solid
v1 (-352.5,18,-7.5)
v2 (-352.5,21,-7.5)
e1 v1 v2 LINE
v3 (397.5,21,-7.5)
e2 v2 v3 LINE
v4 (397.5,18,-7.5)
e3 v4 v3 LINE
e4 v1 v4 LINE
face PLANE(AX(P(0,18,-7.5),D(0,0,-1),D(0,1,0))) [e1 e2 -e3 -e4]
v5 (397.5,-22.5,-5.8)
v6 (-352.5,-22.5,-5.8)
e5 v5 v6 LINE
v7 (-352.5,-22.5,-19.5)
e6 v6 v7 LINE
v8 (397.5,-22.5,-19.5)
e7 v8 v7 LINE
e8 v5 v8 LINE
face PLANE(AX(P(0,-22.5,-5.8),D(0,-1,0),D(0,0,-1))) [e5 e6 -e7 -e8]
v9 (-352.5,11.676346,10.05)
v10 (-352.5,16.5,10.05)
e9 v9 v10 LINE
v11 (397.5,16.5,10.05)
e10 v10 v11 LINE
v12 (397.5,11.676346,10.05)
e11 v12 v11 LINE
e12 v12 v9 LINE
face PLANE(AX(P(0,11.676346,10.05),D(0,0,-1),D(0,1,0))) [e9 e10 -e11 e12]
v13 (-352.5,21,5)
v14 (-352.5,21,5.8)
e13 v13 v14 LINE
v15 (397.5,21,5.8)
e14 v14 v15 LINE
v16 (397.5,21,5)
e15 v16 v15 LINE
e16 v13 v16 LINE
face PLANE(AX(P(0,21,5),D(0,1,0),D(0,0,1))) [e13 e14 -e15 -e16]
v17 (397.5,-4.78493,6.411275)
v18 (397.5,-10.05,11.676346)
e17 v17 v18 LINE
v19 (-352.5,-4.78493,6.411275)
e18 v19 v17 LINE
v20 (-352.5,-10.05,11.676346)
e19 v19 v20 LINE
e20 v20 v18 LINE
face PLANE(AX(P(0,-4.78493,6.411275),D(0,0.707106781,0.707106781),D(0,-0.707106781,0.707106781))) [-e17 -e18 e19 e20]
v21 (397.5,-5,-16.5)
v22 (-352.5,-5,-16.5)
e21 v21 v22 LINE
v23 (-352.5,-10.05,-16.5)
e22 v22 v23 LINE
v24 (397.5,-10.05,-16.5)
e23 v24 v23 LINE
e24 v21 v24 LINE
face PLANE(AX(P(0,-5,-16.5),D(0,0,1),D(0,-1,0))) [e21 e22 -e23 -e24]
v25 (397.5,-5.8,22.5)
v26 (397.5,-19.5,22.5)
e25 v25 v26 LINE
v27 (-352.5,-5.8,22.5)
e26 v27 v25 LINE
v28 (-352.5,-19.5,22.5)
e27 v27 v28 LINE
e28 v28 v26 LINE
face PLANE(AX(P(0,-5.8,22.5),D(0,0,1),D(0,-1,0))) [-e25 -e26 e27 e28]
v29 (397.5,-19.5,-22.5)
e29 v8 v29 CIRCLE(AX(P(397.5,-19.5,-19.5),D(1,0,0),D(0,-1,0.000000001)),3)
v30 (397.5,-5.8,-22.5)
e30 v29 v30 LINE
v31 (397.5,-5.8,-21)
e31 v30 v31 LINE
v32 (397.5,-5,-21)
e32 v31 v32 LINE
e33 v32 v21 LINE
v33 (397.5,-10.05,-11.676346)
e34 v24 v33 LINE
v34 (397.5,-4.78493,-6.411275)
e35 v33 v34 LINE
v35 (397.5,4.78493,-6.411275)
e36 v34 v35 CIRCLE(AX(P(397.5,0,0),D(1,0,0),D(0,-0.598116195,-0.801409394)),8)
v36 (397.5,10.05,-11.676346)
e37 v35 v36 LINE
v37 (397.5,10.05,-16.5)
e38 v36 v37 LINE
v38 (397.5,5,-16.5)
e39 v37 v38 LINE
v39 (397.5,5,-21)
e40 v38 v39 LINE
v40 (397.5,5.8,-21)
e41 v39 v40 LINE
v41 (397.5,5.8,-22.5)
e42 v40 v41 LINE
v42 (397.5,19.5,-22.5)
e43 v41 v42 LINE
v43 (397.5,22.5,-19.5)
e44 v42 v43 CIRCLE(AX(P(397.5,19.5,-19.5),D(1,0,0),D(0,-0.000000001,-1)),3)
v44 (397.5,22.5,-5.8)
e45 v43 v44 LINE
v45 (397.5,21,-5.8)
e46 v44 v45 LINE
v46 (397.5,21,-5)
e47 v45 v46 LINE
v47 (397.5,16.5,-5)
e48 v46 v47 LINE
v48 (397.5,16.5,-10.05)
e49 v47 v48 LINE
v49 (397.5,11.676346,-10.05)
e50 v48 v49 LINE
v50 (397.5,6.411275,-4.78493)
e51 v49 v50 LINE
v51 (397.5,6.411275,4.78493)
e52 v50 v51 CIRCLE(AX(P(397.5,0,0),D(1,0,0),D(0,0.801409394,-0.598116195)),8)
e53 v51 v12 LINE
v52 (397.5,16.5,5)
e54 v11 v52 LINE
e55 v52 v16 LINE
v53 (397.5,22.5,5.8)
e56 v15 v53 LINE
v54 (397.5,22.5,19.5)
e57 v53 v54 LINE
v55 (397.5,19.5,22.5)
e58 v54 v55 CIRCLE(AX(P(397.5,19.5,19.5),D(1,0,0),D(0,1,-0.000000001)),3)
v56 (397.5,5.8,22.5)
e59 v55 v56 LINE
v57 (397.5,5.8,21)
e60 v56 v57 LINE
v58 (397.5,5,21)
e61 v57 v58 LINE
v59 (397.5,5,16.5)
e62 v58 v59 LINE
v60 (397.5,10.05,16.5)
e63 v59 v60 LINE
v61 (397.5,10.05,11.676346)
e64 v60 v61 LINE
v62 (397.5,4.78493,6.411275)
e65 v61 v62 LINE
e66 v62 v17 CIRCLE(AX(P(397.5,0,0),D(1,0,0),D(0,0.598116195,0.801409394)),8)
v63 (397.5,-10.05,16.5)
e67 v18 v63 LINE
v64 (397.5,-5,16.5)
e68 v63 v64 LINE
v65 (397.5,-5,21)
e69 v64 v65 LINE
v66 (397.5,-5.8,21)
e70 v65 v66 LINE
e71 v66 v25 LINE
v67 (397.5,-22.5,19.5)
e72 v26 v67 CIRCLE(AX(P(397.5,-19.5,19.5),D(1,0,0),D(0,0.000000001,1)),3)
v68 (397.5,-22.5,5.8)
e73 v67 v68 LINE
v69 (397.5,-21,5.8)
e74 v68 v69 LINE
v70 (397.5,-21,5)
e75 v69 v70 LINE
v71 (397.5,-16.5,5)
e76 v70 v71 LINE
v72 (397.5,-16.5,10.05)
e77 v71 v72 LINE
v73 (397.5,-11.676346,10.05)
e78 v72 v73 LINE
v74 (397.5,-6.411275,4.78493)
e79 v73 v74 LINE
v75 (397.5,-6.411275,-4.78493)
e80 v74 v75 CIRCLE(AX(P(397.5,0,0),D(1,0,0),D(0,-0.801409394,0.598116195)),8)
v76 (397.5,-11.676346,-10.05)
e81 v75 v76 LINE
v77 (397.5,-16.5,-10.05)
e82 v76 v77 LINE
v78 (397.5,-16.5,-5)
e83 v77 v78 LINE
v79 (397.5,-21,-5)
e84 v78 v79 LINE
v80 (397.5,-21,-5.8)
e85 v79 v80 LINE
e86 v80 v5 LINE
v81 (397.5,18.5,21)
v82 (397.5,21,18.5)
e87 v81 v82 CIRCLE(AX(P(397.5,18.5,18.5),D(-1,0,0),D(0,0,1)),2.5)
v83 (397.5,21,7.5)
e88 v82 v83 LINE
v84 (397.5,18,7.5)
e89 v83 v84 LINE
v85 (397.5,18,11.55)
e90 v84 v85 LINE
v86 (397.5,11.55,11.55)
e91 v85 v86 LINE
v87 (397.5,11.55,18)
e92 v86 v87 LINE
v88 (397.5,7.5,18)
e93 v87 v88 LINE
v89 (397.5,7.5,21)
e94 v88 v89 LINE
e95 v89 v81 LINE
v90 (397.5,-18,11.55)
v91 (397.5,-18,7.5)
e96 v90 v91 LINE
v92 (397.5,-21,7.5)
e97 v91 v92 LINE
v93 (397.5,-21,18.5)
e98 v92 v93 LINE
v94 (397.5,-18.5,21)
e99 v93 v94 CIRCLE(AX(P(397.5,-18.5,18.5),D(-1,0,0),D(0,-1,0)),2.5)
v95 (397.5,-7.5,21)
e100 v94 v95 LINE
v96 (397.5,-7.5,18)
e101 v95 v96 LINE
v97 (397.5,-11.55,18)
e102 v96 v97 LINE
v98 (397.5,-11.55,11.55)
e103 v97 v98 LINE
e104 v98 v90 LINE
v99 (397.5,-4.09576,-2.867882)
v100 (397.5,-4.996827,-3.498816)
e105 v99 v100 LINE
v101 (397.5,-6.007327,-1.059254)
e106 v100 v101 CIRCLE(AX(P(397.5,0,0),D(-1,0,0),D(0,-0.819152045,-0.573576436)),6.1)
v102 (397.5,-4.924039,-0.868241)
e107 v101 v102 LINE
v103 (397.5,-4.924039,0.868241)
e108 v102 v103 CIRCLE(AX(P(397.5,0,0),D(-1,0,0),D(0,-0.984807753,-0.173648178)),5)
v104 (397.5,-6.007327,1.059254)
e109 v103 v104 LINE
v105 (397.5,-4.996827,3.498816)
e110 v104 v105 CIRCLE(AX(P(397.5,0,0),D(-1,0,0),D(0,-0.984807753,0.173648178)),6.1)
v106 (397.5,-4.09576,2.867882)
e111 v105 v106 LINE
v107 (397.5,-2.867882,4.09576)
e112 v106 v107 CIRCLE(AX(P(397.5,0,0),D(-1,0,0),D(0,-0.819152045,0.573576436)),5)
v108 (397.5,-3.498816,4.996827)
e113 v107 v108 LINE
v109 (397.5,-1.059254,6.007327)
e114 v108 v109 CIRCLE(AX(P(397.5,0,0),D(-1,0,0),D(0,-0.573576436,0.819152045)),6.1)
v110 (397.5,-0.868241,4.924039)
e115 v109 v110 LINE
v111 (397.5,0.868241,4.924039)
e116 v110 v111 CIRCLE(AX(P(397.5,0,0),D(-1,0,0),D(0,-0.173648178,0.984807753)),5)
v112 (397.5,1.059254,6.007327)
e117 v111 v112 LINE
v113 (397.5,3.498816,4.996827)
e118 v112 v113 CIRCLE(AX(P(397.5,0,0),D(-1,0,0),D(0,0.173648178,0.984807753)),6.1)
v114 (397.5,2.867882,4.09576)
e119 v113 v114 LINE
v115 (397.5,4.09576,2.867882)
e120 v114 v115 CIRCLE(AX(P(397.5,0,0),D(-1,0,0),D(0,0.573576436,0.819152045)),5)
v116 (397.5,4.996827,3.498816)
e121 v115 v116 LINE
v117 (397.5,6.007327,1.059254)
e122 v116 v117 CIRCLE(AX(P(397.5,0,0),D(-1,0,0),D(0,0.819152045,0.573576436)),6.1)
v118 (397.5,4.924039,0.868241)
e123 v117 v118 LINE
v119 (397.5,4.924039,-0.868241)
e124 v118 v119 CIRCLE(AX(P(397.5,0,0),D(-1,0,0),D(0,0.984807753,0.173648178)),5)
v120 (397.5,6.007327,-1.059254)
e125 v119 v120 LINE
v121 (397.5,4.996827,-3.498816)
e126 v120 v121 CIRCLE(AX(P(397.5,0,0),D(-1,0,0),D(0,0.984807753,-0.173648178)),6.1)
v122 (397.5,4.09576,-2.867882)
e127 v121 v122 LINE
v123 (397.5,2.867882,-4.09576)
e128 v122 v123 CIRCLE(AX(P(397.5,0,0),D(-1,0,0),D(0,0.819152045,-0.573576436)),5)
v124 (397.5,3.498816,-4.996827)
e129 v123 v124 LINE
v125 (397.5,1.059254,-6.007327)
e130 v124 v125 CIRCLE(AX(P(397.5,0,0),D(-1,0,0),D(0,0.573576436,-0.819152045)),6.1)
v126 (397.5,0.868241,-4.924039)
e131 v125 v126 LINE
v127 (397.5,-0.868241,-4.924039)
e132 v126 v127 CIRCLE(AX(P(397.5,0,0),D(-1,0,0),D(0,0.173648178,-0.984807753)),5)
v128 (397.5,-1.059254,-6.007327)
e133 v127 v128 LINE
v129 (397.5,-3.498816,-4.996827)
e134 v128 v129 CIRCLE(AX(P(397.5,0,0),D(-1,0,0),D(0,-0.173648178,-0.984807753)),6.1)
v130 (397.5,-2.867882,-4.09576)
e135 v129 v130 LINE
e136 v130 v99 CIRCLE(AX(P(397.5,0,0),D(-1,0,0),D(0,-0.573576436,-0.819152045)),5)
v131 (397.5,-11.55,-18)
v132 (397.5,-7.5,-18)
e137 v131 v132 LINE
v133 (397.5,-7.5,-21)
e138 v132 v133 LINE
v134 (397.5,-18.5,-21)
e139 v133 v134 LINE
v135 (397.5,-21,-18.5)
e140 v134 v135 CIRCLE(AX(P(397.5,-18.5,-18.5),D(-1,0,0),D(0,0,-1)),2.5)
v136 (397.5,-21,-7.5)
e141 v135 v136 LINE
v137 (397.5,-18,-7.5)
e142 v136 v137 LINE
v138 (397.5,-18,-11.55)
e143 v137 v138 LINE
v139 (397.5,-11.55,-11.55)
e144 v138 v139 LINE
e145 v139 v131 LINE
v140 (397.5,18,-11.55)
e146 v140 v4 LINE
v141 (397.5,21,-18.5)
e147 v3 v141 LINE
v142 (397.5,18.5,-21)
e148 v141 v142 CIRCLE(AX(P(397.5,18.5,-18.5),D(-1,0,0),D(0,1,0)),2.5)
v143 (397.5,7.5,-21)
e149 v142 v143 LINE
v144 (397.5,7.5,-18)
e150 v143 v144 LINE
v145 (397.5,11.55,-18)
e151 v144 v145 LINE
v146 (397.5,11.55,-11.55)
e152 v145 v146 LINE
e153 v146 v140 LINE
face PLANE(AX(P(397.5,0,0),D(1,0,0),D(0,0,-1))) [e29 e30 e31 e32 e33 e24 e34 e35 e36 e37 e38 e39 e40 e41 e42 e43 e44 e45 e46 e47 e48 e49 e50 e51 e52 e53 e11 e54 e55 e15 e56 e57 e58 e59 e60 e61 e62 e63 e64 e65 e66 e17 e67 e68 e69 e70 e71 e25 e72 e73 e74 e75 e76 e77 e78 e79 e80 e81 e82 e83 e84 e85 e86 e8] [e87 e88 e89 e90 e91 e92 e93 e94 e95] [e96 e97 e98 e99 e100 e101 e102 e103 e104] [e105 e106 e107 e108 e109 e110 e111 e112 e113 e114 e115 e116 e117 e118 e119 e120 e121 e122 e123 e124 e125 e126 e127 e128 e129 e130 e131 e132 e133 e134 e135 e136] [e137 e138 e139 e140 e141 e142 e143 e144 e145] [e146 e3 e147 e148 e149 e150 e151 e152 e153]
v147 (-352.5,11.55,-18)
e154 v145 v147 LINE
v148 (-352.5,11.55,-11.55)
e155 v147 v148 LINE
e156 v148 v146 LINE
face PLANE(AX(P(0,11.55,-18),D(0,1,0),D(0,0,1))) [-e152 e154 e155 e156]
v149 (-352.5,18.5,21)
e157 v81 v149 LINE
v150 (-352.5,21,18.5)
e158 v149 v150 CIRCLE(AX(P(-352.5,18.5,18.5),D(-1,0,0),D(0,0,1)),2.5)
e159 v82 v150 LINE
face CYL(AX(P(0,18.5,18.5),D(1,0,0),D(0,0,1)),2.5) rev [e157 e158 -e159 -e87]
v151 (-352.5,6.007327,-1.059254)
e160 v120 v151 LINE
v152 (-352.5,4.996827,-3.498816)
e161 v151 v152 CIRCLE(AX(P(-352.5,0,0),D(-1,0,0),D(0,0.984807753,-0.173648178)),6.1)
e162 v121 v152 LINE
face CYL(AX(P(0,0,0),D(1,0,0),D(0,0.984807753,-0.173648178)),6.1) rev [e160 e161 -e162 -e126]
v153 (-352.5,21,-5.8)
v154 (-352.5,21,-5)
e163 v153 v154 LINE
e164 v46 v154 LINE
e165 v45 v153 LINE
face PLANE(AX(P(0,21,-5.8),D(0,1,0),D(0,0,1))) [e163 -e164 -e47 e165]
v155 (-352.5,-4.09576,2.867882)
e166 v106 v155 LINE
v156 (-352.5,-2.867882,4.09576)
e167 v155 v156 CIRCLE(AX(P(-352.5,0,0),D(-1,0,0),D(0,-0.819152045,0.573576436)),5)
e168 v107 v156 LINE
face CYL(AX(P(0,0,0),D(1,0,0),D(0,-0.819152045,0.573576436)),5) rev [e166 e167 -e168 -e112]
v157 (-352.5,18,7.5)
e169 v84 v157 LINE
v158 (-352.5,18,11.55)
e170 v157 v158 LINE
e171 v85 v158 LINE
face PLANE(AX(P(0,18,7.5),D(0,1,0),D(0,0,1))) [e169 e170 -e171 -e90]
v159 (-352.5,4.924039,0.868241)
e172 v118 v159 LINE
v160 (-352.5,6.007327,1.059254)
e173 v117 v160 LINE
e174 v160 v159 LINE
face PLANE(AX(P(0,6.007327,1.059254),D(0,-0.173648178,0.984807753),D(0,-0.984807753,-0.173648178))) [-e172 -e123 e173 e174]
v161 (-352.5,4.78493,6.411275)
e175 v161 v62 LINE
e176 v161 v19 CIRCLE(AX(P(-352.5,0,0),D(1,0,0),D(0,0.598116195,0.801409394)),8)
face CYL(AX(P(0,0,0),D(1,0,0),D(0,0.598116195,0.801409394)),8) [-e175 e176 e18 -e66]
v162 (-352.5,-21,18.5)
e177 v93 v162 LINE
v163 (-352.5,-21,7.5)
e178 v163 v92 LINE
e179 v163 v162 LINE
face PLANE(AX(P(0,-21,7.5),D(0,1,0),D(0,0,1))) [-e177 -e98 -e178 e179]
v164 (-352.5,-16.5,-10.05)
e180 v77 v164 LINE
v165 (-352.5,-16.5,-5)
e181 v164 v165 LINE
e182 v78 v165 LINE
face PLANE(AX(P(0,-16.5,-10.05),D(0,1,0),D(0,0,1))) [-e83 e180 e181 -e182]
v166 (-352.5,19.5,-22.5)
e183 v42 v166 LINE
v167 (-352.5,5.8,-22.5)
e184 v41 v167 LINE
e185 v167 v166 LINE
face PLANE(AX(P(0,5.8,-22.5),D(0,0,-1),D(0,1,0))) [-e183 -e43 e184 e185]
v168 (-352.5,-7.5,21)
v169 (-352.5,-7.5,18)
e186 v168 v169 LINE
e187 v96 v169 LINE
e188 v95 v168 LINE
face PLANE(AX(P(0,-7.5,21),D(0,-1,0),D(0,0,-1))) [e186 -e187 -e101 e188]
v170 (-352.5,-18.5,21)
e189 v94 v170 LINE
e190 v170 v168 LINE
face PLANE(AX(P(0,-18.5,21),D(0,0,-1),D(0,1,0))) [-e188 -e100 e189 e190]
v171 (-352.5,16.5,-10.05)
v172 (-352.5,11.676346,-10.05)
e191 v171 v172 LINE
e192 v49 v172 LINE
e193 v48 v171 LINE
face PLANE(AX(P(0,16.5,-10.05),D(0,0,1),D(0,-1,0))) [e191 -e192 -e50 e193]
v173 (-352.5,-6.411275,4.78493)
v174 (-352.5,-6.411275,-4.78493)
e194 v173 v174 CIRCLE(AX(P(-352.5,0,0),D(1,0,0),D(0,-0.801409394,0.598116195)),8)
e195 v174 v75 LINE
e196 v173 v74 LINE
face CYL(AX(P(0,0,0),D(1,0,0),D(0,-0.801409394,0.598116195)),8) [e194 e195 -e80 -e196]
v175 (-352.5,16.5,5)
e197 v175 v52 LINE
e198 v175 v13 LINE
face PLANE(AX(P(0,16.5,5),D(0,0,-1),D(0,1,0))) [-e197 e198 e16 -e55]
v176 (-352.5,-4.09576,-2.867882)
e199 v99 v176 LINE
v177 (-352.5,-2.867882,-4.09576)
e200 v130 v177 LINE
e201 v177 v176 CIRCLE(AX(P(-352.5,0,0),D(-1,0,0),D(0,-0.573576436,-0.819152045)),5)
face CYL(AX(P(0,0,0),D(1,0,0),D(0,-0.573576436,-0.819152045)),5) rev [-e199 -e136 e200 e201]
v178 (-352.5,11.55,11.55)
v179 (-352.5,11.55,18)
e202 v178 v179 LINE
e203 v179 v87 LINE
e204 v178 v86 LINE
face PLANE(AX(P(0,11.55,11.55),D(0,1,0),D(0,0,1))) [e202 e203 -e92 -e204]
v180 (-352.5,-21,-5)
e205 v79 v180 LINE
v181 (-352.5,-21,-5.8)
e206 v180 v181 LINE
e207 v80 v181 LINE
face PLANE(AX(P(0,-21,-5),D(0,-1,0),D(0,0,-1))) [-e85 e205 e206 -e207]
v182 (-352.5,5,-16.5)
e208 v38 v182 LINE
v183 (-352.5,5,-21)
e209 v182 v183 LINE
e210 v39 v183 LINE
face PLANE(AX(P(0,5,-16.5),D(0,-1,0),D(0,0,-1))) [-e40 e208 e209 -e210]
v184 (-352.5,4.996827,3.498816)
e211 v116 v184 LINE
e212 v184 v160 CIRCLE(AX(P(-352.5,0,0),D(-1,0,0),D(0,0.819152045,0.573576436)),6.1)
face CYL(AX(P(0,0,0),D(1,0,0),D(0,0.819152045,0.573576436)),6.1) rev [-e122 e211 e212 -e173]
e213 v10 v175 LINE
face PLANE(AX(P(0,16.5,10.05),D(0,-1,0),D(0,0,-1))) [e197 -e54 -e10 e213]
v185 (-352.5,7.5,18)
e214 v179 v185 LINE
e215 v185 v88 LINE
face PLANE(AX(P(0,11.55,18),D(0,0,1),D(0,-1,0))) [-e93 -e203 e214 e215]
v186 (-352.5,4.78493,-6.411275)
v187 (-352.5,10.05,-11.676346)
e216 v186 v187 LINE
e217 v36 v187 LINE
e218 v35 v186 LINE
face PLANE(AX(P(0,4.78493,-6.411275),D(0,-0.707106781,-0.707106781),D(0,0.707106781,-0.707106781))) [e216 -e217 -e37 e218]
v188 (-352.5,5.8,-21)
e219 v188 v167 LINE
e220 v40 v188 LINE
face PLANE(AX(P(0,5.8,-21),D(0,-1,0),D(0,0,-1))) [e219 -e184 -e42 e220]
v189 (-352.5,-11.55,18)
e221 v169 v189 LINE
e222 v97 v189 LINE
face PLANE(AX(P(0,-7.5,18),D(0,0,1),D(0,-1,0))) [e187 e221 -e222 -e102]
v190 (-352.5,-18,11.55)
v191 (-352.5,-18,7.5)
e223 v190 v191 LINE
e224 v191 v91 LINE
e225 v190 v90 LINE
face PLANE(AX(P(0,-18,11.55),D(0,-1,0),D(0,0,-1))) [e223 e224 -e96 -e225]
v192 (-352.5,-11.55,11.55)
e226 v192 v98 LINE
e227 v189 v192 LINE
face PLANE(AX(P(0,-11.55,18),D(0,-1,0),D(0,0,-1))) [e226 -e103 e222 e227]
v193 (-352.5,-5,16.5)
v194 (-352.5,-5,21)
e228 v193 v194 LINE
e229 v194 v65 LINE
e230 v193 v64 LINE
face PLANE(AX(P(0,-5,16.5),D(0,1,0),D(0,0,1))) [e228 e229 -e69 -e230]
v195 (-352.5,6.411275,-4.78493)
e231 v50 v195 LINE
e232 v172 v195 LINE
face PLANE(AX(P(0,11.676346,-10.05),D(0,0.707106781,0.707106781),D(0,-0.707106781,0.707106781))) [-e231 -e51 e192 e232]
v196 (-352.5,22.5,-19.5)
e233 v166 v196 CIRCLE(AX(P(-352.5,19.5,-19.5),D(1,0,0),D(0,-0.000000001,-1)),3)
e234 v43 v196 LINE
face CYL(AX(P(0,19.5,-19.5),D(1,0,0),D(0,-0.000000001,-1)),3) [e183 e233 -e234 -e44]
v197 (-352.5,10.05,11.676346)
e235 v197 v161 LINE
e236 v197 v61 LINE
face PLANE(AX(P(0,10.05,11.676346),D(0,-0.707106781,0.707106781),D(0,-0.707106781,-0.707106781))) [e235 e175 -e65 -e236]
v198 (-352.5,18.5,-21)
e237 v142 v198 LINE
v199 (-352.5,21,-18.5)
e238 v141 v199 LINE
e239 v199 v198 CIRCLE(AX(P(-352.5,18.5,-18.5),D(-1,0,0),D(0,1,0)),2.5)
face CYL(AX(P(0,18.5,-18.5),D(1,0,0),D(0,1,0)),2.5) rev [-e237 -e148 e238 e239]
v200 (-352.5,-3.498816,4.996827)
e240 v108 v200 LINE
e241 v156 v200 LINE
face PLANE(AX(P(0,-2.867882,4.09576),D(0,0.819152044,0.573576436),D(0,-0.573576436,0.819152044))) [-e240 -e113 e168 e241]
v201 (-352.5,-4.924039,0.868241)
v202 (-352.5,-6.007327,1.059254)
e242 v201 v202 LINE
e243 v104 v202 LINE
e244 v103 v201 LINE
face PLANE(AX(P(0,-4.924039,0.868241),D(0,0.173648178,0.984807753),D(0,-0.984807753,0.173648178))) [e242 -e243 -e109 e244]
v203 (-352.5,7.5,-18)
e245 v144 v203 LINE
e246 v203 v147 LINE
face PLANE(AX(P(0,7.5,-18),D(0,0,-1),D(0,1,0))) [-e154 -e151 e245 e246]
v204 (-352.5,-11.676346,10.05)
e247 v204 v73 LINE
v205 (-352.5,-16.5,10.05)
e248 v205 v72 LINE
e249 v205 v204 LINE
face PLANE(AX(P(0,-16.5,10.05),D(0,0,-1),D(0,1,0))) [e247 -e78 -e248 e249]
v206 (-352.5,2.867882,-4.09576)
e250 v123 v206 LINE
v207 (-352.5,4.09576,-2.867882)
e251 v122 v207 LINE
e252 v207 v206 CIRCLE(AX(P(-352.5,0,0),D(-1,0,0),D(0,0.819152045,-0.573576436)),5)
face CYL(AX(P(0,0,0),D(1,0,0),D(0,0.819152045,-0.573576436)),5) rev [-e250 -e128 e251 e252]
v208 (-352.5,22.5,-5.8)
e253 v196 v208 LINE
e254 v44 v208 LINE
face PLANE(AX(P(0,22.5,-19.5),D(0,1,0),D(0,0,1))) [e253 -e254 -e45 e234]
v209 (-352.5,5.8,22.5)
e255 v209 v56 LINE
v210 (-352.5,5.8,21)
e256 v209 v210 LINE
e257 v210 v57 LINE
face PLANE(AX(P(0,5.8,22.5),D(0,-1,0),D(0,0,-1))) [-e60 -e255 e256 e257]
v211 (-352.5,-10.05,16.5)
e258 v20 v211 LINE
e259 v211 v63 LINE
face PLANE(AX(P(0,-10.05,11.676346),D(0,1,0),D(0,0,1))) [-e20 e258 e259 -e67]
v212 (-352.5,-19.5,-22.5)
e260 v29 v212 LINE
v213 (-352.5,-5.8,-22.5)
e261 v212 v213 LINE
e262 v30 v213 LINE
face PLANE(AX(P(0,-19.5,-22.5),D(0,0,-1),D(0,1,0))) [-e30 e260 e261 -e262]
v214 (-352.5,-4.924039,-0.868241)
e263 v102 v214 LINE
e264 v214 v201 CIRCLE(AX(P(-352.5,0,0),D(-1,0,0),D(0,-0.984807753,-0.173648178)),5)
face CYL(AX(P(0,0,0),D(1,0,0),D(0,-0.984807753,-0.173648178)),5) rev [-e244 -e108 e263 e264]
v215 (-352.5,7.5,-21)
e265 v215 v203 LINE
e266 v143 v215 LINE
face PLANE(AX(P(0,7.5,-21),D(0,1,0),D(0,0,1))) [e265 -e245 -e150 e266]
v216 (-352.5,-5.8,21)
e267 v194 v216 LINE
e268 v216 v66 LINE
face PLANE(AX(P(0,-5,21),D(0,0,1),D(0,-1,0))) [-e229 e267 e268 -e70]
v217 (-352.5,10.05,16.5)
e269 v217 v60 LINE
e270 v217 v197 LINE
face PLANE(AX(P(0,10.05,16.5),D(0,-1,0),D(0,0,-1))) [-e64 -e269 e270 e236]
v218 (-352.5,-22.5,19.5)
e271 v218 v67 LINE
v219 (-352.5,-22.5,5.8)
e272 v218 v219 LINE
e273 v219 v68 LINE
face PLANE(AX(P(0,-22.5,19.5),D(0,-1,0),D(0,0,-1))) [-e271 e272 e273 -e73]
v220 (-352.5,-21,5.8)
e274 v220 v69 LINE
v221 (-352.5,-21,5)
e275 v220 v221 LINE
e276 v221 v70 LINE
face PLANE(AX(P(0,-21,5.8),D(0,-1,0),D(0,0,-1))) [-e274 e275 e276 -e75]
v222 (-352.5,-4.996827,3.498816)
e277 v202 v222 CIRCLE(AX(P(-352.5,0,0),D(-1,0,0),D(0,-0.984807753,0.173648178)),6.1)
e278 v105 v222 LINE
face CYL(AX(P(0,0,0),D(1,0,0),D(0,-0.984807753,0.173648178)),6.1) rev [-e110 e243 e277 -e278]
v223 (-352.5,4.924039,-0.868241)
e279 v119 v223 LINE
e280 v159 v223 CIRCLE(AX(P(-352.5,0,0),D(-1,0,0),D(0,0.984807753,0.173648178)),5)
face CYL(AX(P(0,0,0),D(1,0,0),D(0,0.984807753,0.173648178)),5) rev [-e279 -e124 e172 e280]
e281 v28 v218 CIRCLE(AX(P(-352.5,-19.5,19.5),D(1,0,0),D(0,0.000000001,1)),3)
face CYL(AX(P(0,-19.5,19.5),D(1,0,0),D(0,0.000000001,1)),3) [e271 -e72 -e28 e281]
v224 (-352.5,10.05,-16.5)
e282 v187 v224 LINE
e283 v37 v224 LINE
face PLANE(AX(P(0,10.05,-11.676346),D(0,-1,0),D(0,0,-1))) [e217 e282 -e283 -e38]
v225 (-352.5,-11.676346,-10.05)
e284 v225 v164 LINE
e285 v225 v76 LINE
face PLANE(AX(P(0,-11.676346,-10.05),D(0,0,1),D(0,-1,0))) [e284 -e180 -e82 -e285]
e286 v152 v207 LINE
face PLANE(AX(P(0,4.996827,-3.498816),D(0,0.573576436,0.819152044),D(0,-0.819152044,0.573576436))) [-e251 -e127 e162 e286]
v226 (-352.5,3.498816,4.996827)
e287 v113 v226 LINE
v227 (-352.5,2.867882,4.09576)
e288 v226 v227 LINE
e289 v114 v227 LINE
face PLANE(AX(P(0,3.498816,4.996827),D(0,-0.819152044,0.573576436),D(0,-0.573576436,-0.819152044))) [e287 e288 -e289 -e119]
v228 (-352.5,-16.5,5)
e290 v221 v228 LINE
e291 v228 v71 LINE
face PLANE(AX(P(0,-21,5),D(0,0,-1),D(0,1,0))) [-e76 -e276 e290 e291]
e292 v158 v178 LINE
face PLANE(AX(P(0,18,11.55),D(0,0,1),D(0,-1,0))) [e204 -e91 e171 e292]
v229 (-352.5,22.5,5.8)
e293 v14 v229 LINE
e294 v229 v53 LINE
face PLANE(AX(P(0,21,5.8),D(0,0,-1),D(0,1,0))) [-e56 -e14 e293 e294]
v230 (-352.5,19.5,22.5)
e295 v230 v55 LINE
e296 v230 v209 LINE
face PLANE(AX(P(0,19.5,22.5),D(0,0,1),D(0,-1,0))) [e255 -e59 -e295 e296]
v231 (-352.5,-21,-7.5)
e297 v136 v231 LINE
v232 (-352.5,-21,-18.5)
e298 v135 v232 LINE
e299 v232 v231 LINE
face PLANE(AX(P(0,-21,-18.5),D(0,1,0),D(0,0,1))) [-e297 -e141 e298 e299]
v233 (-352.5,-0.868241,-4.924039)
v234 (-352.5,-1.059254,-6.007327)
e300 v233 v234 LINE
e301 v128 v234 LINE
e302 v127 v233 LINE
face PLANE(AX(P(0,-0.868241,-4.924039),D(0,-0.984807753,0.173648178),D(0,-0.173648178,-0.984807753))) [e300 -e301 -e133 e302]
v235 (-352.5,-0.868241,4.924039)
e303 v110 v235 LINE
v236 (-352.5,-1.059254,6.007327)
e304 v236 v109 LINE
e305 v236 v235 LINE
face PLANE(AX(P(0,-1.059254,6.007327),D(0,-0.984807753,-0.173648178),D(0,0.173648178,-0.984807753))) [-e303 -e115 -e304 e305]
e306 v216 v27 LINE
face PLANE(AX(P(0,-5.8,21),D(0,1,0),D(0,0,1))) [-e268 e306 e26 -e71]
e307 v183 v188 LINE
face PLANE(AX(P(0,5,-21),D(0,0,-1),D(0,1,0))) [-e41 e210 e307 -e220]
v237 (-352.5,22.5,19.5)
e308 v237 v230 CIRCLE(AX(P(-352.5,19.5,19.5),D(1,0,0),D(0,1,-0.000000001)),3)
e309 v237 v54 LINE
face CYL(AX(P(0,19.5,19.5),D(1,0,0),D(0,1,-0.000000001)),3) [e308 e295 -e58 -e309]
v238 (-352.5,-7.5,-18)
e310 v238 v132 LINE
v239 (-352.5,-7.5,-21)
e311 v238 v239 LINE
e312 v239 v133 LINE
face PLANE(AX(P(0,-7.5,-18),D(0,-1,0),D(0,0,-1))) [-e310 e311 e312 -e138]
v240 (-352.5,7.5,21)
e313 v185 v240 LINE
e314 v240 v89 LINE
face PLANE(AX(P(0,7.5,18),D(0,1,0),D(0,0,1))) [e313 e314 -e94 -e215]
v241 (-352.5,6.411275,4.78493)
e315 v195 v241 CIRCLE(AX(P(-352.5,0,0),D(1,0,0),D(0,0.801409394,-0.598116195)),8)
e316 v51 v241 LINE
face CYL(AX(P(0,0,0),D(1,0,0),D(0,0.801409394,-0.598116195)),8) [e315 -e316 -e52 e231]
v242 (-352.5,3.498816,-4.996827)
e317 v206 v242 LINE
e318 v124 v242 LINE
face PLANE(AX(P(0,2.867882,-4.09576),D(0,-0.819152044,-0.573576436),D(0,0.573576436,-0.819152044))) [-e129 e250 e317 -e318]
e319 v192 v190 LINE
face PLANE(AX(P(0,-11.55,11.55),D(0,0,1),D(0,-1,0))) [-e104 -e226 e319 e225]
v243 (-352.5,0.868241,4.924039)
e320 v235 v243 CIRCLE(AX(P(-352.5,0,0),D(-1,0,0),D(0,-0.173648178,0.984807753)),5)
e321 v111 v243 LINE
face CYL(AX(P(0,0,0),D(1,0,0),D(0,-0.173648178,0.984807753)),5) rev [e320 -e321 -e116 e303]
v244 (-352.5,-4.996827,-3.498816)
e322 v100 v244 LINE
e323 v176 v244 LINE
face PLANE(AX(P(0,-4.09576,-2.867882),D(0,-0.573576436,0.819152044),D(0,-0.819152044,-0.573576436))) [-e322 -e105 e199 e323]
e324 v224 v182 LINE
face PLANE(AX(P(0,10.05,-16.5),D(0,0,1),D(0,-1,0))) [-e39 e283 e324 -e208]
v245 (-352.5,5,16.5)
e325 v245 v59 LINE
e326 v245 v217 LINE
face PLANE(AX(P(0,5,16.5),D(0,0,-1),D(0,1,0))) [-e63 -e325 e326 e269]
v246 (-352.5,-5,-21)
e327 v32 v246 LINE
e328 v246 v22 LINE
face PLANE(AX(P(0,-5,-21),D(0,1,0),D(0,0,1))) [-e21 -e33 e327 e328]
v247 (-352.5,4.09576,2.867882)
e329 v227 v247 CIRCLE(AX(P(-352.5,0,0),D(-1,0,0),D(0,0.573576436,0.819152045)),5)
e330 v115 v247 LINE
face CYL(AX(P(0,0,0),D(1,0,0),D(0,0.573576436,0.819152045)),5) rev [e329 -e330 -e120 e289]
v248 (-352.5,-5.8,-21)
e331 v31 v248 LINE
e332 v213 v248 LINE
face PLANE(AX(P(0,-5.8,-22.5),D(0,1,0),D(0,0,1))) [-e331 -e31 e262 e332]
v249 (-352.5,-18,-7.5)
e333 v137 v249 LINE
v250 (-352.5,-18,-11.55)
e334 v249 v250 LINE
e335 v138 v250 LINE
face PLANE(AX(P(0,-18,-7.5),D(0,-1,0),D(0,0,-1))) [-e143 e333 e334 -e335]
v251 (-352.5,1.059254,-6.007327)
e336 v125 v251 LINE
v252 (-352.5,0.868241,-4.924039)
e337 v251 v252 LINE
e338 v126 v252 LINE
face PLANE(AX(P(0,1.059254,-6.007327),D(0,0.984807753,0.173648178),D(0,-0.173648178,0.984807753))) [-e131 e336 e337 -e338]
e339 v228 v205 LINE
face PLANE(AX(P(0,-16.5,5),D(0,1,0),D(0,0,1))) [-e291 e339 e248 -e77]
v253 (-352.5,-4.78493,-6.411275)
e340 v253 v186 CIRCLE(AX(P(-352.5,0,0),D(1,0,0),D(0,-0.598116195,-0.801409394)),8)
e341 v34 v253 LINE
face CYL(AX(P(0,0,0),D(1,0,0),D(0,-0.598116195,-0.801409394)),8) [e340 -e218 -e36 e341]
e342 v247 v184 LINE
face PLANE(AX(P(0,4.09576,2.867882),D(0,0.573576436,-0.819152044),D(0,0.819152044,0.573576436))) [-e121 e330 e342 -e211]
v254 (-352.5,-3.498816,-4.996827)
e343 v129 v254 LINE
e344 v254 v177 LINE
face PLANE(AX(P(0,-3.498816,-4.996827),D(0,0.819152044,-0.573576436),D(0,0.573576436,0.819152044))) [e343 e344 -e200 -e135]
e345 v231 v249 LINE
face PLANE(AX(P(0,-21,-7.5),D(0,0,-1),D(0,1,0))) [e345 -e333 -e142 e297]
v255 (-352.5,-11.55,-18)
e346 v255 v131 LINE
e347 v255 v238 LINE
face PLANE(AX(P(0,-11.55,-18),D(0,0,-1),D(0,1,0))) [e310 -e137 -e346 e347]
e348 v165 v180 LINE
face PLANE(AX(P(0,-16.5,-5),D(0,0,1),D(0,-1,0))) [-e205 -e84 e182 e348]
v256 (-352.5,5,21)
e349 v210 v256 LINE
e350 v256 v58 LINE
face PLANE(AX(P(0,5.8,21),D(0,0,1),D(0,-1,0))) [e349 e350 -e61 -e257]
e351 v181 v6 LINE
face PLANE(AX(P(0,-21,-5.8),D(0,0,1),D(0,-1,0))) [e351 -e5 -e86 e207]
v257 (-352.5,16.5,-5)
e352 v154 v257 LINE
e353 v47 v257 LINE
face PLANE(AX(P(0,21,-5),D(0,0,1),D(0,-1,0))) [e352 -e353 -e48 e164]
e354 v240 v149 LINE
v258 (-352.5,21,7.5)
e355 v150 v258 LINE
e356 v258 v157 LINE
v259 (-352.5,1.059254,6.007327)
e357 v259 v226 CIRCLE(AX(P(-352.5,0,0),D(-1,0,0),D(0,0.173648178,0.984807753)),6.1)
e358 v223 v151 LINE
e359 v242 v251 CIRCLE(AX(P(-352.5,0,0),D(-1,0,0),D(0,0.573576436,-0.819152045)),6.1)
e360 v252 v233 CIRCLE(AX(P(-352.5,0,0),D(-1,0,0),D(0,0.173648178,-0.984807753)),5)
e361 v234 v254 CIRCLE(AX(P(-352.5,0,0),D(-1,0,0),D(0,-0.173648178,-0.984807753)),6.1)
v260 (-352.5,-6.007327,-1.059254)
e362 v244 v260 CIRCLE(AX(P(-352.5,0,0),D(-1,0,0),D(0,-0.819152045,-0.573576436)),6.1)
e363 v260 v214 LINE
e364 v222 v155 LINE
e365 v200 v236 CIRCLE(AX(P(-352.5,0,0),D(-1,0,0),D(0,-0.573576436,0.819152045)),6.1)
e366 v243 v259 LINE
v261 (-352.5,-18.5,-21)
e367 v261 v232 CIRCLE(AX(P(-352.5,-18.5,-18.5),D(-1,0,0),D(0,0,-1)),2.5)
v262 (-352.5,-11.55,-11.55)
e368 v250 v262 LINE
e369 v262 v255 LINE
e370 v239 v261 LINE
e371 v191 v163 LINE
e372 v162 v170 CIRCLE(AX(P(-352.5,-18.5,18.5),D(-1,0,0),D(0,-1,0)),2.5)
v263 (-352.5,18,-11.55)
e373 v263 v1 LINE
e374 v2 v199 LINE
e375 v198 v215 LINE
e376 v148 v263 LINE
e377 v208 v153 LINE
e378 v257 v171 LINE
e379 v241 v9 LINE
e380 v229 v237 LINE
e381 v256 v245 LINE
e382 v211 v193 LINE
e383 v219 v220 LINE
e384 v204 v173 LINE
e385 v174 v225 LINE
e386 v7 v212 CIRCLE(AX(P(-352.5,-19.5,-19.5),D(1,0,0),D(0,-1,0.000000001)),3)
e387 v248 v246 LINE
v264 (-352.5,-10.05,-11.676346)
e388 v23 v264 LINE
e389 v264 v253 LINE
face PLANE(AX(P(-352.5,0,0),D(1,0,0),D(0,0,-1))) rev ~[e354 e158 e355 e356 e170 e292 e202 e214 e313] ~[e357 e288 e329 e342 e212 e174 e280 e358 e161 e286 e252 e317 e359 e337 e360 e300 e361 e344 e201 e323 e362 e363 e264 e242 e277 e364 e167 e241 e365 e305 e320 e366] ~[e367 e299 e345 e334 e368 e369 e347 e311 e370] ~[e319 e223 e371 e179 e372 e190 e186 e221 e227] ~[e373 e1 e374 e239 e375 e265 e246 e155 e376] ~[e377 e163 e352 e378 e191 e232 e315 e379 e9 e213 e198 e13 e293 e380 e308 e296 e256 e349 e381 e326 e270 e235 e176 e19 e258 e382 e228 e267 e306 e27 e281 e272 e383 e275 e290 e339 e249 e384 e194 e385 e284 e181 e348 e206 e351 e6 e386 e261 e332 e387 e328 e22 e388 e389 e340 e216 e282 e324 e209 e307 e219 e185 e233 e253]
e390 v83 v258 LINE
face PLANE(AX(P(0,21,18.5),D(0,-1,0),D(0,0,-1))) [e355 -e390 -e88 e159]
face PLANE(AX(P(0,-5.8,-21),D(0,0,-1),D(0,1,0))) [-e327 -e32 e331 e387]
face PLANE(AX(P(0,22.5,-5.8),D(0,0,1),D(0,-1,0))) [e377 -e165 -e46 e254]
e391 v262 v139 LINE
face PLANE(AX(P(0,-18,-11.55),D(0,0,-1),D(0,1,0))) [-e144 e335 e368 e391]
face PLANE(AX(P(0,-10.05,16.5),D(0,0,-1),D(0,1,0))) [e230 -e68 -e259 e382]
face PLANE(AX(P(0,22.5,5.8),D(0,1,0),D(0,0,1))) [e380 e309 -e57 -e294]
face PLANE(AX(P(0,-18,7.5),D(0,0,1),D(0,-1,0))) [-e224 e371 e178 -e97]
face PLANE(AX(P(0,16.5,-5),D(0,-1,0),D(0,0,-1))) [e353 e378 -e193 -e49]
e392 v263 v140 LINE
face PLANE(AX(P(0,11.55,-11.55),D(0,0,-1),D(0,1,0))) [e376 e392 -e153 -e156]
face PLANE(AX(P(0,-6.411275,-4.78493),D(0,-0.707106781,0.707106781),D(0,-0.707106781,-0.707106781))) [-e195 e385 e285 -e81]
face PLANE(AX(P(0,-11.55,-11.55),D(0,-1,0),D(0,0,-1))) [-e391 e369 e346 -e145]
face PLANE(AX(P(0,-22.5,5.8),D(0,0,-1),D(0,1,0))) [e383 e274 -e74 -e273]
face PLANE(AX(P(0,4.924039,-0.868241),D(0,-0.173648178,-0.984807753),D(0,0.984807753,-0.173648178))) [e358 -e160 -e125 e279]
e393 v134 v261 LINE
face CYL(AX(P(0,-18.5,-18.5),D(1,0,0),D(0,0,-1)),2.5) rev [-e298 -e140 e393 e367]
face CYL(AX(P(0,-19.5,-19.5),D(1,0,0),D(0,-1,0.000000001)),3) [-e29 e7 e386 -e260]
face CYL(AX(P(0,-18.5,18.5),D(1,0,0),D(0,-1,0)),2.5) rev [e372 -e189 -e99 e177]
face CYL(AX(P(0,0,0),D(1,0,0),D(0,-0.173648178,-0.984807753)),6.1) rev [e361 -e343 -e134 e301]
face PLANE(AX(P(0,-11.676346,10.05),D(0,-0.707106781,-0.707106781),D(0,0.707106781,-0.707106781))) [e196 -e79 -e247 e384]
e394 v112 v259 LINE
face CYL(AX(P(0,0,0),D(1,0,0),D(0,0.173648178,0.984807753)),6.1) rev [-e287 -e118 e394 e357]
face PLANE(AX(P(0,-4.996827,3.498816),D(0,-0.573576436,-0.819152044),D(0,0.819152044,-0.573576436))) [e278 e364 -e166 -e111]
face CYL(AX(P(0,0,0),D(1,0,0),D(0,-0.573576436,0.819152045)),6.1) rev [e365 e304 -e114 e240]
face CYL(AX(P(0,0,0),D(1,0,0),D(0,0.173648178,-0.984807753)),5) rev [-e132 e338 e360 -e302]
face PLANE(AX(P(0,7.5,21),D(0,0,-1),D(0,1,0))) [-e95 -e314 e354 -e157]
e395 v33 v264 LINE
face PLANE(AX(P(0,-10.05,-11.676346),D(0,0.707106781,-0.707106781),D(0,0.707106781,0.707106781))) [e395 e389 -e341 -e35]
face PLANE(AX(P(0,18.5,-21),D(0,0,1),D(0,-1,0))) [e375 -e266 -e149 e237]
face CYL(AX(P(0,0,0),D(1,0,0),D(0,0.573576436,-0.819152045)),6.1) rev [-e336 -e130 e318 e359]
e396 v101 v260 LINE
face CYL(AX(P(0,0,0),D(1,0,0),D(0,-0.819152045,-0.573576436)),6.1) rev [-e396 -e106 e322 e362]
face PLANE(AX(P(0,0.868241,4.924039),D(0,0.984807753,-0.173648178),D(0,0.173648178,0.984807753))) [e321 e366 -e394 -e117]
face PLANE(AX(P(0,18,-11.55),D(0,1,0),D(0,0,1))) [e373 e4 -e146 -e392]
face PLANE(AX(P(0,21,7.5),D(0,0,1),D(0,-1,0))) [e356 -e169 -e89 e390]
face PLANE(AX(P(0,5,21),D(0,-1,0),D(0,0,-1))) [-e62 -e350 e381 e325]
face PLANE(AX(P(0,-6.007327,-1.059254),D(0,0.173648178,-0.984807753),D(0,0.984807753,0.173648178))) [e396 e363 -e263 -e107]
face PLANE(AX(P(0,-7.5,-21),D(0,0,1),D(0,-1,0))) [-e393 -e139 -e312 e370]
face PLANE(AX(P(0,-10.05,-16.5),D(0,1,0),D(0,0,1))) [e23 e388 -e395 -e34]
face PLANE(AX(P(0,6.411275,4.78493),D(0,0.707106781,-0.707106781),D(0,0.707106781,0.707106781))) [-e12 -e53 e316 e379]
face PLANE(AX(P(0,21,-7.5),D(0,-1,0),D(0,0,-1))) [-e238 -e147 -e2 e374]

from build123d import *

# Parameters (mm, degrees)
BR_EXTRUDE_DEPTH      = 397.5
BR_EXTRUDE_DEPTH_BACK = 352.5


with BuildPart() as part:
    # Sketch2 → BR_Extrude (new body, two sides)
    with BuildSketch(Plane(origin=(0, 0, 0), x_dir=(0, 0, -1), z_dir=(1, 0, 0))) as br_extrude_sk:
        with BuildLine():
            Line((-10.05, 11.676345597), (-10.05, 16.5))
            Line((-10.05, 16.5), (-5, 16.5))
            Line((-5, 16.5), (-5, 21))
            Line((-5, 21), (-5.8, 21))
            Line((-5.8, 21), (-5.8, 22.5))
            Line((-5.8, 22.5), (-19.5, 22.5))
            ThreePointArc((-19.5, 22.5), (-21.621320344, 21.621320344), (-22.5, 19.5))
            Line((-22.5, 19.5), (-22.5, 5.8))
            Line((-22.5, 5.8), (-21, 5.8))
            Line((-21, 5.8), (-21, 5))
            Line((-21, 5), (-16.5, 5))
            Line((-16.5, 5), (-16.5, 10.05))
            Line((-16.5, 10.05), (-11.676345597, 10.05))
            Line((-11.676345597, 10.05), (-6.411275155, 4.784929559))
            ThreePointArc((-6.411275155, 4.784929559), (-8, 0), (-6.411275155, -4.784929559))
            Line((-6.411275155, -4.784929559), (-11.676345597, -10.05))
            Line((-11.676345597, -10.05), (-16.5, -10.05))
            Line((-16.5, -10.05), (-16.5, -5))
            Line((-16.5, -5), (-21, -5))
            Line((-21, -5), (-21, -5.8))
            Line((-21, -5.8), (-22.5, -5.8))
            Line((-22.5, -5.8), (-22.5, -19.5))
            ThreePointArc((-22.5, -19.5), (-21.621320344, -21.621320344), (-19.5, -22.5))
            Line((-19.5, -22.5), (-5.8, -22.5))
            Line((-5.8, -22.5), (-5.8, -21))
            Line((-5.8, -21), (-5, -21))
            Line((-5, -21), (-5, -16.5))
            Line((-5, -16.5), (-10.05, -16.5))
            Line((-10.05, -16.5), (-10.05, -11.676345597))
            Line((-10.05, -11.676345597), (-4.784929559, -6.411275155))
            ThreePointArc((-4.784929559, -6.411275155), (0, -8), (4.784929559, -6.411275155))
            Line((4.784929559, -6.411275155), (10.05, -11.676345597))
            Line((10.05, -11.676345597), (10.05, -16.5))
            Line((10.05, -16.5), (5, -16.5))
            Line((5, -16.5), (5, -21))
            Line((5, -21), (5.8, -21))
            Line((5.8, -21), (5.8, -22.5))
            Line((5.8, -22.5), (19.5, -22.5))
            ThreePointArc((19.5, -22.5), (21.621320344, -21.621320344), (22.5, -19.5))
            Line((22.5, -19.5), (22.5, -5.8))
            Line((22.5, -5.8), (21, -5.8))
            Line((21, -5.8), (21, -5))
            Line((21, -5), (16.5, -5))
            Line((16.5, -5), (16.5, -10.05))
            Line((16.5, -10.05), (11.676345597, -10.05))
            Line((11.676345597, -10.05), (6.411275155, -4.784929559))
            ThreePointArc((6.411275155, -4.784929559), (8, 0), (6.411275155, 4.784929559))
            Line((6.411275155, 4.784929559), (11.676345597, 10.05))
            Line((11.676345597, 10.05), (16.5, 10.05))
            Line((16.5, 10.05), (16.5, 5))
            Line((16.5, 5), (21, 5))
            Line((21, 5), (21, 5.8))
            Line((21, 5.8), (22.5, 5.8))
            Line((22.5, 5.8), (22.5, 19.5))
            ThreePointArc((22.5, 19.5), (21.621320344, 21.621320344), (19.5, 22.5))
            Line((19.5, 22.5), (5.8, 22.5))
            Line((5.8, 22.5), (5.8, 21))
            Line((5.8, 21), (5, 21))
            Line((5, 21), (5, 16.5))
            Line((5, 16.5), (10.05, 16.5))
            Line((10.05, 16.5), (10.05, 11.676345597))
            Line((10.05, 11.676345597), (4.784929559, 6.411275155))
            ThreePointArc((4.784929559, 6.411275155), (0, 8), (-4.784929559, 6.411275155))
            Line((-4.784929559, 6.411275155), (-10.05, 11.676345597))
        make_face()
        with BuildLine():
            Line((11.55, 11.55), (11.55, 18))
            Line((11.55, 18), (7.5, 18))
            Line((7.5, 18), (7.5, 21))
            Line((7.5, 21), (18.5, 21))
            ThreePointArc((18.5, 21), (20.267766953, 20.267766953), (21, 18.5))
            Line((21, 18.5), (21, 7.5))
            Line((21, 7.5), (18, 7.5))
            Line((18, 7.5), (18, 11.55))
            Line((18, 11.55), (11.55, 11.55))
        make_face(mode=Mode.SUBTRACT)
        with BuildLine():
            Line((11.55, -11.55), (18, -11.55))
            Line((18, -11.55), (18, -7.5))
            Line((18, -7.5), (21, -7.5))
            Line((21, -7.5), (21, -18.5))
            ThreePointArc((21, -18.5), (20.267766953, -20.267766953), (18.5, -21))
            Line((18.5, -21), (7.5, -21))
            Line((7.5, -21), (7.5, -18))
            Line((7.5, -18), (11.55, -18))
            Line((11.55, -18), (11.55, -11.55))
        make_face(mode=Mode.SUBTRACT)
        with BuildLine():
            Line((-11.55, 11.55), (-18, 11.55))
            Line((-18, 11.55), (-18, 7.5))
            Line((-18, 7.5), (-21, 7.5))
            Line((-21, 7.5), (-21, 18.5))
            ThreePointArc((-21, 18.5), (-20.267766953, 20.267766953), (-18.5, 21))
            Line((-18.5, 21), (-7.5, 21))
            Line((-7.5, 21), (-7.5, 18))
            Line((-7.5, 18), (-11.55, 18))
            Line((-11.55, 18), (-11.55, 11.55))
        make_face(mode=Mode.SUBTRACT)
        with BuildLine():
            Line((-11.55, -11.55), (-11.55, -18))
            Line((-11.55, -18), (-7.5, -18))
            Line((-7.5, -18), (-7.5, -21))
            Line((-7.5, -21), (-18.5, -21))
            ThreePointArc((-18.5, -21), (-20.267766953, -20.267766953), (-21, -18.5))
            Line((-21, -18.5), (-21, -7.5))
            Line((-21, -7.5), (-18, -7.5))
            Line((-18, -7.5), (-18, -11.55))
            Line((-18, -11.55), (-11.55, -11.55))
        make_face(mode=Mode.SUBTRACT)
        with BuildLine():
            Line((-6.007327293, -1.059253884), (-4.924038765, -0.868240888))
            ThreePointArc((-4.924038765, -0.868240888), (-5, 0), (-4.924038765, 0.868240888))
            Line((-4.924038765, 0.868240888), (-6.007327293, 1.059253884))
            ThreePointArc((-6.007327293, 1.059253884), (-5.635665148, 2.334368937), (-4.99682747, 3.498816262))
            Line((-4.99682747, 3.498816262), (-4.095760221, 2.867882182))
            ThreePointArc((-4.095760221, 2.867882182), (-3.535533906, 3.535533906), (-2.867882182, 4.095760221))
            Line((-2.867882182, 4.095760221), (-3.498816262, 4.99682747))
            ThreePointArc((-3.498816262, 4.99682747), (-2.334368937, 5.635665148), (-1.059253884, 6.007327293))
            Line((-1.059253884, 6.007327293), (-0.868240888, 4.924038765))
            ThreePointArc((-0.868240888, 4.924038765), (0, 5), (0.868240888, 4.924038765))
            Line((0.868240888, 4.924038765), (1.059253884, 6.007327293))
            ThreePointArc((1.059253884, 6.007327293), (2.334368937, 5.635665148), (3.498816262, 4.99682747))
            Line((3.498816262, 4.99682747), (2.867882182, 4.095760221))
            ThreePointArc((2.867882182, 4.095760221), (3.535533906, 3.535533906), (4.095760221, 2.867882182))
            Line((4.095760221, 2.867882182), (4.99682747, 3.498816262))
            ThreePointArc((4.99682747, 3.498816262), (5.635665148, 2.334368937), (6.007327293, 1.059253884))
            Line((6.007327293, 1.059253884), (4.924038765, 0.868240888))
            ThreePointArc((4.924038765, 0.868240888), (5, 0), (4.924038765, -0.868240888))
            Line((4.924038765, -0.868240888), (6.007327293, -1.059253884))
            ThreePointArc((6.007327293, -1.059253884), (5.635665148, -2.334368937), (4.99682747, -3.498816262))
            Line((4.99682747, -3.498816262), (4.095760221, -2.867882182))
            ThreePointArc((4.095760221, -2.867882182), (3.535533906, -3.535533906), (2.867882182, -4.095760221))
            Line((2.867882182, -4.095760221), (3.498816262, -4.99682747))
            ThreePointArc((3.498816262, -4.99682747), (2.334368937, -5.635665148), (1.059253884, -6.007327293))
            Line((1.059253884, -6.007327293), (0.868240888, -4.924038765))
            ThreePointArc((0.868240888, -4.924038765), (0, -5), (-0.868240888, -4.924038765))
            Line((-0.868240888, -4.924038765), (-1.059253884, -6.007327293))
            ThreePointArc((-1.059253884, -6.007327293), (-2.334368937, -5.635665148), (-3.498816262, -4.99682747))
            Line((-3.498816262, -4.99682747), (-2.867882182, -4.095760221))
            ThreePointArc((-2.867882182, -4.095760221), (-3.535533906, -3.535533906), (-4.095760221, -2.867882182))
            Line((-4.095760221, -2.867882182), (-4.99682747, -3.498816262))
            ThreePointArc((-4.99682747, -3.498816262), (-5.635665148, -2.334368937), (-6.007327293, -1.059253884))
        make_face(mode=Mode.SUBTRACT)
    extrude(amount=BR_EXTRUDE_DEPTH)
    extrude(br_extrude_sk.sketch, amount=-BR_EXTRUDE_DEPTH_BACK)


solid = part.part
